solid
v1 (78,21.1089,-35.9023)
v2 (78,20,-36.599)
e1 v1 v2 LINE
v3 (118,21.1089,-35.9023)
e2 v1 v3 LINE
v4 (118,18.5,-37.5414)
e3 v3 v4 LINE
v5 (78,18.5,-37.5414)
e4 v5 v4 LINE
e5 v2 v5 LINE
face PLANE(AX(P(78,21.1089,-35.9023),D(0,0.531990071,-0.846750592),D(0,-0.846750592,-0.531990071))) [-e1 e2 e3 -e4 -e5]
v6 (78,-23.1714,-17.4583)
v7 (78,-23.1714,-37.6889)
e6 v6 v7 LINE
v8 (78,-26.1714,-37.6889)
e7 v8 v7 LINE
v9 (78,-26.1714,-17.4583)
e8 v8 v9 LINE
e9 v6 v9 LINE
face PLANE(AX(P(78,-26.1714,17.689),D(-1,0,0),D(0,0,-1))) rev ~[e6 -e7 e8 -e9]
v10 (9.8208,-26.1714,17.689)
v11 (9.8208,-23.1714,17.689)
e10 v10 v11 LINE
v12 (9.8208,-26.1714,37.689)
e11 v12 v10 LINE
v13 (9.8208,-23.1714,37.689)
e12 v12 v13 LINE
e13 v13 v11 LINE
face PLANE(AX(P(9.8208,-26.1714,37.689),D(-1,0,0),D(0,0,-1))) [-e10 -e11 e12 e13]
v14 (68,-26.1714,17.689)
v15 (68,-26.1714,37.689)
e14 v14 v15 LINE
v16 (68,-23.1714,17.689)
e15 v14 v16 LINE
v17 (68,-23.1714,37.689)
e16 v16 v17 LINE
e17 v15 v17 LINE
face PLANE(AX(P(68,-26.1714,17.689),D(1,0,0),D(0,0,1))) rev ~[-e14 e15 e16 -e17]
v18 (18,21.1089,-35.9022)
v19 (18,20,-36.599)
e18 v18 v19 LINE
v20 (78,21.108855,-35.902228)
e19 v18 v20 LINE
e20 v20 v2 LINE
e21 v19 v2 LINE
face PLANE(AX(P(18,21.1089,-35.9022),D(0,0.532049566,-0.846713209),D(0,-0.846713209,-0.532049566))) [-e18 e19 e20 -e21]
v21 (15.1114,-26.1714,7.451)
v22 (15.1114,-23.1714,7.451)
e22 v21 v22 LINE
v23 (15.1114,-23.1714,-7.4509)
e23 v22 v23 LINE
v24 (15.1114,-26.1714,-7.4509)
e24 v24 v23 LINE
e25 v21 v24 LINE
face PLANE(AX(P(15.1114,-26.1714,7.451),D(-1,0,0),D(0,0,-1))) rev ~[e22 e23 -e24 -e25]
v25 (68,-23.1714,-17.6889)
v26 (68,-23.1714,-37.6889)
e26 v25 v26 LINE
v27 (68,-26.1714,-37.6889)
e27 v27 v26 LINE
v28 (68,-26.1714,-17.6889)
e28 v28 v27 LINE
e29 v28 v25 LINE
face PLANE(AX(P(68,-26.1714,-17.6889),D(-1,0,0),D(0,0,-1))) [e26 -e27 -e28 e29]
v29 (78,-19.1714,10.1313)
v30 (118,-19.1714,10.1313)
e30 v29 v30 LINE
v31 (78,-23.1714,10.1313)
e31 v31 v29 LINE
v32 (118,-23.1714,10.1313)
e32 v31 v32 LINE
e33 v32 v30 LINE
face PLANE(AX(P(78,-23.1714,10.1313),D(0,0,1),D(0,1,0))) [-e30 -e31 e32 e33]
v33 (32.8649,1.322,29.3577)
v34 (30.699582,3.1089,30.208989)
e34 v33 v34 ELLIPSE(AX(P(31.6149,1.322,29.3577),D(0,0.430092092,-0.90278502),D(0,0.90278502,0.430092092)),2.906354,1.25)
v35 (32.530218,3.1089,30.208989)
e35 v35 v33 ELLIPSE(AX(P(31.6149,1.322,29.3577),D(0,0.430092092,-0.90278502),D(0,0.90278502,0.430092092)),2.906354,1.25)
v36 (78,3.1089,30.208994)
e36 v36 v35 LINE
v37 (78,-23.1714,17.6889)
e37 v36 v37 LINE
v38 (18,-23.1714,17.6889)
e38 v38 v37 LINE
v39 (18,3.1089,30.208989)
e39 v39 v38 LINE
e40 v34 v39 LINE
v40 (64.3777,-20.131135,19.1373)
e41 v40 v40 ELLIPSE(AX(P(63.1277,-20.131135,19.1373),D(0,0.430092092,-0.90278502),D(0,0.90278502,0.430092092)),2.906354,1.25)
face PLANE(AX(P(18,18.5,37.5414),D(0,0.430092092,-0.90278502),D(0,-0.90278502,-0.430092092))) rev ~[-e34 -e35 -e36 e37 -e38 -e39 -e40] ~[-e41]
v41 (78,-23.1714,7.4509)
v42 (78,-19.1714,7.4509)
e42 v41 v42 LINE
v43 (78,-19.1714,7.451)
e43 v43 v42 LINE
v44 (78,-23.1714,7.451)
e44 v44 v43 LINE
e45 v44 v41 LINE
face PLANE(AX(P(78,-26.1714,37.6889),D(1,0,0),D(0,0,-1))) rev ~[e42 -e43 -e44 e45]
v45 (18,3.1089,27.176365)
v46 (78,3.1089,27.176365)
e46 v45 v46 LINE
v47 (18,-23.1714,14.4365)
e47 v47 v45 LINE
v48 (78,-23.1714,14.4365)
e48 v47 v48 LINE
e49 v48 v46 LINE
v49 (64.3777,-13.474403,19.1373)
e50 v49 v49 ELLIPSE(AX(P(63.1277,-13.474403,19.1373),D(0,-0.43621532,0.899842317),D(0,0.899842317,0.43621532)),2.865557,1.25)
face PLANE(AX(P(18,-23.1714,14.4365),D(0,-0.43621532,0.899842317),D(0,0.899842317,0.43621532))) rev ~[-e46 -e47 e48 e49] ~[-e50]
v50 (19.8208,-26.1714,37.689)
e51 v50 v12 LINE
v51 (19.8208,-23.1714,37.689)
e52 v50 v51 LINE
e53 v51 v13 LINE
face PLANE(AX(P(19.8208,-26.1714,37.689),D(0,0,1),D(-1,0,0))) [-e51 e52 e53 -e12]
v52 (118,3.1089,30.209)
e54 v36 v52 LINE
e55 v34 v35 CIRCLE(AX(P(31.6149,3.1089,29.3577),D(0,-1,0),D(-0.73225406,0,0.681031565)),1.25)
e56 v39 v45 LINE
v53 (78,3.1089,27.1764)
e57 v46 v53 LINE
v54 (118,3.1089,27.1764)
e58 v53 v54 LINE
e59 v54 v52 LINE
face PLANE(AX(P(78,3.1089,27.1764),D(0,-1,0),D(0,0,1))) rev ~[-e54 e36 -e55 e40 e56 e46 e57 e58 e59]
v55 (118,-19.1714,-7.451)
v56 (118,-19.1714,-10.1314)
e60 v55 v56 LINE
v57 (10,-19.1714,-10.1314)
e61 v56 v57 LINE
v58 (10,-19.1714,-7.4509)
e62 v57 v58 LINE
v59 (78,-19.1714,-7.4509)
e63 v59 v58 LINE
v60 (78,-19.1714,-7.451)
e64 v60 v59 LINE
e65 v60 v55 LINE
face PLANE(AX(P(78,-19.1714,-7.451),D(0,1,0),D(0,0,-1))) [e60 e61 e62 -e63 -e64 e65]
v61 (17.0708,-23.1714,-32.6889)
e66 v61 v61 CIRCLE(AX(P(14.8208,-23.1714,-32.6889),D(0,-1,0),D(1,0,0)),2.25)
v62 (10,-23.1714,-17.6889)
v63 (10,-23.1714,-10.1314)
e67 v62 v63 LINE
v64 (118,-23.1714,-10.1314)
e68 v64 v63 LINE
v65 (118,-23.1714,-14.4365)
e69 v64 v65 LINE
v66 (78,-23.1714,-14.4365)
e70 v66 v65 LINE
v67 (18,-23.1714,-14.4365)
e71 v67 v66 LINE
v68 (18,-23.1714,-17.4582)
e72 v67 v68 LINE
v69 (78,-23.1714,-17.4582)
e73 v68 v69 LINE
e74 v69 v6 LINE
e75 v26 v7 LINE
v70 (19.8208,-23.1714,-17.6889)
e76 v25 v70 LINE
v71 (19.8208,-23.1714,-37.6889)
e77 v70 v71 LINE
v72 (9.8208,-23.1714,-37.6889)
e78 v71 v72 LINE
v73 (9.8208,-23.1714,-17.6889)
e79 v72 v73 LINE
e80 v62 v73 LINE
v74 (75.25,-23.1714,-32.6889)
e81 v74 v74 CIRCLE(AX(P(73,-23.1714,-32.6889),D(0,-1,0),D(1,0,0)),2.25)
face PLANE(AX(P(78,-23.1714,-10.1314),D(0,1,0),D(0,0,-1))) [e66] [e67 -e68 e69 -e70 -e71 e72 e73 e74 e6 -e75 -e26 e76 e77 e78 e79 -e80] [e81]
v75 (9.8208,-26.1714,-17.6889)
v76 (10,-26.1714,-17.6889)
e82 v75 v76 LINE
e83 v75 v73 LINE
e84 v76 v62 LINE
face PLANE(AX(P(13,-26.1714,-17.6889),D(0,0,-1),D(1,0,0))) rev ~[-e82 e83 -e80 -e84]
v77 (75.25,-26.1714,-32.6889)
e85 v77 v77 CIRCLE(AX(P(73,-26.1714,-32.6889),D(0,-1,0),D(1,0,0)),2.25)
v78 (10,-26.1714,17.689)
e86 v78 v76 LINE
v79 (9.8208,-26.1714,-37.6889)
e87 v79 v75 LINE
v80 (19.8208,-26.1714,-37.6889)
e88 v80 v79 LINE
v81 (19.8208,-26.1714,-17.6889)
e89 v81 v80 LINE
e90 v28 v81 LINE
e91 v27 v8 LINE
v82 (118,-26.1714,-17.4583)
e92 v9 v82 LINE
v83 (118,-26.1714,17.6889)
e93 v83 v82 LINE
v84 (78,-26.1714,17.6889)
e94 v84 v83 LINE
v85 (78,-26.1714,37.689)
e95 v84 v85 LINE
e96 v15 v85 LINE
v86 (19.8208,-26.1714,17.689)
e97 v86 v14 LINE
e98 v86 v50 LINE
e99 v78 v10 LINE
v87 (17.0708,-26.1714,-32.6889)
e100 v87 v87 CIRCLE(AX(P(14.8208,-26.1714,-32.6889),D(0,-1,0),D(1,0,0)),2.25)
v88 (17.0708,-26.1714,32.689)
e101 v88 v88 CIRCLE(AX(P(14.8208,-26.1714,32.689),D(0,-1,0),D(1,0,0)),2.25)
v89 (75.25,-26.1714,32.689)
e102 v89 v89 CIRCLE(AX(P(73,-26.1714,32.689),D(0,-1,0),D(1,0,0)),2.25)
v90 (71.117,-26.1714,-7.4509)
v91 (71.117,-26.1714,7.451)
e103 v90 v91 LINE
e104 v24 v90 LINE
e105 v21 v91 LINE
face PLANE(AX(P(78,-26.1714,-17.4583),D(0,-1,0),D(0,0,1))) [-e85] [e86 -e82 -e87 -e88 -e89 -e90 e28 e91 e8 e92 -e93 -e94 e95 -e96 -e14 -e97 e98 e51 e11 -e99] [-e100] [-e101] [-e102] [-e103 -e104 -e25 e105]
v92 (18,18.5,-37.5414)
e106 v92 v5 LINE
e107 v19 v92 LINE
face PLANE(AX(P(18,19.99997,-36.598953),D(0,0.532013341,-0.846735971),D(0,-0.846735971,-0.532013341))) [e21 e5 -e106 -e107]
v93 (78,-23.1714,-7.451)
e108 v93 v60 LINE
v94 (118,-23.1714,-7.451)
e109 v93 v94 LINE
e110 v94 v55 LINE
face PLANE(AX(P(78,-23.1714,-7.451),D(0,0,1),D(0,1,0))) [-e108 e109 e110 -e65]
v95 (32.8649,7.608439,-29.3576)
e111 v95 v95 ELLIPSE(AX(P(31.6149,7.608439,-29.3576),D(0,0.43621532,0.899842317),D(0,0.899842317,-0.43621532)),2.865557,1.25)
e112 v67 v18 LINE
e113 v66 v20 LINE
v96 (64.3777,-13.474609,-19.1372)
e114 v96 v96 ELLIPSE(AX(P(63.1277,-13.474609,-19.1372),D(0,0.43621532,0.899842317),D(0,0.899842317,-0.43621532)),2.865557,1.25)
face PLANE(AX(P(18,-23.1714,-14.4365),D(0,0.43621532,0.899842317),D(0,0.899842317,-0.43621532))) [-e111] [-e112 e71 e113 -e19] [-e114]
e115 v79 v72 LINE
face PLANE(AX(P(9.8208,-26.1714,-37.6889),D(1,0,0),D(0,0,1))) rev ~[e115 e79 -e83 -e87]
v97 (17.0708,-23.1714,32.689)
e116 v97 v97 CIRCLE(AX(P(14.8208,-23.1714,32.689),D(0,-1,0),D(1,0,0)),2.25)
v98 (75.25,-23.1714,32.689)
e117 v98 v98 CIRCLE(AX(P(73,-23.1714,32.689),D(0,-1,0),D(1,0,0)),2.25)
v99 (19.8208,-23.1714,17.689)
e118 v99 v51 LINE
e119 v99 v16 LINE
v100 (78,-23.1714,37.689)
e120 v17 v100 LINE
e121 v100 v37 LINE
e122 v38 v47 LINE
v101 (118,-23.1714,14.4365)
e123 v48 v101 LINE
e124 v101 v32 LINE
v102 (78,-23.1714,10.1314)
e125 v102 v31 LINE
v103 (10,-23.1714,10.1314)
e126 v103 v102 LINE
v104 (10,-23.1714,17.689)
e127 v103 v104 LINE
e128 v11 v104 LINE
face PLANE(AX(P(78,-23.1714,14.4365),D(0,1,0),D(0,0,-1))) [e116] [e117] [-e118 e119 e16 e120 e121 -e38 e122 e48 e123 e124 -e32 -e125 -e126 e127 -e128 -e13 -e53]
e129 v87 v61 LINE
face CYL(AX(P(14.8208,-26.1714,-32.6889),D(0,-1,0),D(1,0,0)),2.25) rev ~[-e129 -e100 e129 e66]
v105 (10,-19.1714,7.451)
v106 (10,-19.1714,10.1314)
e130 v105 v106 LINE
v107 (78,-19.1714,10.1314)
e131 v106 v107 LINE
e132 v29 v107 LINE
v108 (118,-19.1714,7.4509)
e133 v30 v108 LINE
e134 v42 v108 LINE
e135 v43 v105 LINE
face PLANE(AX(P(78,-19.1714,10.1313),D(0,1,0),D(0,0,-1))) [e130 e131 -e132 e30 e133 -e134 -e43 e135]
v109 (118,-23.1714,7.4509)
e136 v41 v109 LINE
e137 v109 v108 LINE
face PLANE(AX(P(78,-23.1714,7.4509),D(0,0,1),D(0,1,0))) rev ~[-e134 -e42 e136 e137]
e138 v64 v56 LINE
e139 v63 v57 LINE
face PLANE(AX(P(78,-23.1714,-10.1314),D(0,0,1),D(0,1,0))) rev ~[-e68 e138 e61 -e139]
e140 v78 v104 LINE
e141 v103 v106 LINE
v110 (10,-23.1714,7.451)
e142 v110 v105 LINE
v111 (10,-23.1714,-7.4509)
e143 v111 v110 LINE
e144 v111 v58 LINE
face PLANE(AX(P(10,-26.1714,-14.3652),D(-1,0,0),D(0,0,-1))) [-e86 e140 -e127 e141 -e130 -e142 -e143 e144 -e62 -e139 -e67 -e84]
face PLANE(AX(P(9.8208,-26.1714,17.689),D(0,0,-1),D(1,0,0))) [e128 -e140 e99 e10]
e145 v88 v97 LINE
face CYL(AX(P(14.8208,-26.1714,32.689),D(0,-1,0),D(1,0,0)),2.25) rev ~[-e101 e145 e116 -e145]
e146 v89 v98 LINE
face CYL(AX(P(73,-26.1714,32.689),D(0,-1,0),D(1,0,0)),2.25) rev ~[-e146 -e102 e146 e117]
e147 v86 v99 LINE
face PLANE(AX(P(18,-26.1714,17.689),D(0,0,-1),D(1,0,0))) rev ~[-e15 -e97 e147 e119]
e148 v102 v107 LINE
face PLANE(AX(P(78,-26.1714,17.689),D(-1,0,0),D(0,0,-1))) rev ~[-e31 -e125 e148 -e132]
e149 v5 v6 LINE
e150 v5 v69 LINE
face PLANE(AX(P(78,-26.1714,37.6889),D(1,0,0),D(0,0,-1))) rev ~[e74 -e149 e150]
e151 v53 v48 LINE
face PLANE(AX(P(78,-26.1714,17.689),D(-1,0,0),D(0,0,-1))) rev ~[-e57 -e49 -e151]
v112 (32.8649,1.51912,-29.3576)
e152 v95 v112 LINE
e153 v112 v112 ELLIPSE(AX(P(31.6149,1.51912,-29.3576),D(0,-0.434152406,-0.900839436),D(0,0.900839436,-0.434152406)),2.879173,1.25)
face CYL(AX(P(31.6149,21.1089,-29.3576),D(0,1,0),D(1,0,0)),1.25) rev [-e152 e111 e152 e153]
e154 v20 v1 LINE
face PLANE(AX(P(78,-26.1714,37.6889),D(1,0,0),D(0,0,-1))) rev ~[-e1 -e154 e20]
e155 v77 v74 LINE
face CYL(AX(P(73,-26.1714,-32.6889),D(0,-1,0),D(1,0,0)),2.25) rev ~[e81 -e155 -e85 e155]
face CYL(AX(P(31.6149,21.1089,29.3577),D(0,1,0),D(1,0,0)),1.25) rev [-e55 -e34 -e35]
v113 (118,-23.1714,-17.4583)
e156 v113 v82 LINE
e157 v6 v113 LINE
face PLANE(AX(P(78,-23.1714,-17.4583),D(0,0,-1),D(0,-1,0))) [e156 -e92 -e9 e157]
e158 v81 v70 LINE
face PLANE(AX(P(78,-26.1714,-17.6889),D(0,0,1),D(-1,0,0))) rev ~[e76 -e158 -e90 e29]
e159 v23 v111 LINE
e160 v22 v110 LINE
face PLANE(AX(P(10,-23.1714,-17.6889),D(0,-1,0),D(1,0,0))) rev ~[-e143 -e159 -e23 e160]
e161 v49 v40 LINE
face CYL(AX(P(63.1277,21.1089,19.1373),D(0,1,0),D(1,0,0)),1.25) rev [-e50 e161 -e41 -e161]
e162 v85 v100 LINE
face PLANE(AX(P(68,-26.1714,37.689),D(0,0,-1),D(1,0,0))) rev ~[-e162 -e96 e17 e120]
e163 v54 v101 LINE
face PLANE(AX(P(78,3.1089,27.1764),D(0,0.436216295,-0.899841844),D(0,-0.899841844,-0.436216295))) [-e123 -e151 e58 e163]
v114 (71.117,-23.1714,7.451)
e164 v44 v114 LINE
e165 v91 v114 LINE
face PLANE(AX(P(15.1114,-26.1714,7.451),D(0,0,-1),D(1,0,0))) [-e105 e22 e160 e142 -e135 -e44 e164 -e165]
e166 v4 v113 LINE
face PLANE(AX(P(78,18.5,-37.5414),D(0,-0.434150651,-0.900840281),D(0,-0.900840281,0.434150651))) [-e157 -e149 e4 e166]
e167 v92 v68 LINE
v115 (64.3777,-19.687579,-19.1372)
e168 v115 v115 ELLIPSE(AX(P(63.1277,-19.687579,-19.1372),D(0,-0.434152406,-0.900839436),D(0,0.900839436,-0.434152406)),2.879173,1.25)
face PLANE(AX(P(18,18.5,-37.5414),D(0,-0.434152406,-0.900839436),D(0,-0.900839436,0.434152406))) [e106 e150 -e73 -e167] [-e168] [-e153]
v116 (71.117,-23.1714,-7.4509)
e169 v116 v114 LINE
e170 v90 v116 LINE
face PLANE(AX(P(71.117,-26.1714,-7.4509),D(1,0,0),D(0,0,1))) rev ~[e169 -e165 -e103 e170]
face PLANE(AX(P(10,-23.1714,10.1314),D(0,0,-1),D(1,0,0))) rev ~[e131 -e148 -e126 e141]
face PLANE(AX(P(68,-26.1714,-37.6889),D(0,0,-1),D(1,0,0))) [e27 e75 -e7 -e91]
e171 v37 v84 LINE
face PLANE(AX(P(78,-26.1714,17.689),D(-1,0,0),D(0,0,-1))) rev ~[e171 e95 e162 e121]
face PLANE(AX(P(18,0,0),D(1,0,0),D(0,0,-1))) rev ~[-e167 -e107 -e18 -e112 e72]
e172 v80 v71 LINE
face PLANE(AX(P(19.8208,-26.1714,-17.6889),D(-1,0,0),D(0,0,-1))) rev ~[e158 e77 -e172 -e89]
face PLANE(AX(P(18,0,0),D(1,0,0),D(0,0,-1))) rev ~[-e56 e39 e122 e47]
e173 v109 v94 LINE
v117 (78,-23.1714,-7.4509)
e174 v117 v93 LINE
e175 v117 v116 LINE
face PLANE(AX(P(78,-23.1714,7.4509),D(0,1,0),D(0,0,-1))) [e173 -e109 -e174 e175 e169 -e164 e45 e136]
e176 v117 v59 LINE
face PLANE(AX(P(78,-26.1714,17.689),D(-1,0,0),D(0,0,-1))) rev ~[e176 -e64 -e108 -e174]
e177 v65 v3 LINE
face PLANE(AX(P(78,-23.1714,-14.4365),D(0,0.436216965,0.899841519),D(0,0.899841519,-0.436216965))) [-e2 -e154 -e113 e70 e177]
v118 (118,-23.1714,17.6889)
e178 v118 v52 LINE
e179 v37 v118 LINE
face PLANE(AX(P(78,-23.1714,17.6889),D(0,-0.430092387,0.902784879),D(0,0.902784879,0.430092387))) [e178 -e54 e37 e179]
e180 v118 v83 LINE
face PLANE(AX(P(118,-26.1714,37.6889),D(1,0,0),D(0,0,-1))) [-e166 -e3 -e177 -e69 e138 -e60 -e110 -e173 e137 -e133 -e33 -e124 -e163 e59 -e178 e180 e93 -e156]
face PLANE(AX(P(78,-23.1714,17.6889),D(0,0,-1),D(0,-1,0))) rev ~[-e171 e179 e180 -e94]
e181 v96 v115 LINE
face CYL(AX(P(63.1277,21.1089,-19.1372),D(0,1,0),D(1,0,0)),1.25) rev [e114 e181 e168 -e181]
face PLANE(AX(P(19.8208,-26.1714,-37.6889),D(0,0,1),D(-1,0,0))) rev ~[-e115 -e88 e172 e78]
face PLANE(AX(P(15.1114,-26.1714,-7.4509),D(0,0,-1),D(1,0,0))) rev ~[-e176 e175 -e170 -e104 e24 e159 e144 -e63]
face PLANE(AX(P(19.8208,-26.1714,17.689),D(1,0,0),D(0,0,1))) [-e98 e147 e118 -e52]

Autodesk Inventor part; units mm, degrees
ref_plane "YZ Plane" through (0, 0, 0) normal (1, 0, 0) x (0, 1, 0)
ref_plane "XZ Plane" through (0, 0, 0) normal (0, 1, 0) x (-1, 0, 0)
ref_plane "XY Plane" through (0, 0, 0) normal (0, 0, 1) x (1, 0, 0)
ref_plane "Plan de construction16" through (10, -26.1714, -17.6889) normal (0, -1, 0) x (1, 0, 0)
sketch "Esquisse9" plane through (10, -26.1714, -17.6889) normal (0, -1, 0) x (1, 0, 0)
  line L0 (0, 35.3779) -> (8, 35.3779) projected
  line L1 (68, 1.8848) -> (68, 33.493) projected
  line L2 (0, 35.3779) -> (68, 35.3779)
  line L3 (68, 35.3779) -> (68, 32.0585)
  line L4 (0, 32.0585) -> (0, 35.3779)
  line L5 (0, 0) -> (8, 0) projected
  line L6 (0, 37.6889) -> (0, -2.3111) projected
  line L7 (68, 0) -> (0, 0)
  line L8 (0, 0) -> (0, 3.3237)
  line L9 (68, 3.3237) -> (68, 0)
  line L10 (68, 35.3779) -> (0, 35.3779)
  line L11 (0, 35.3779) -> (0, 0)
  line L12 (0, 0) -> (68, 0)
  line L13 (68, 0) -> (68, 35.3779)
  point P0 (-10, 17.6889)
  point P1 (67.75, 35.3779)
  point P2 (67.75, 0)
extrude "Extrusion11" add sketch "Esquisse9" against normal blind 3
ref_plane "Plan de construction18" through (78, -26.1714, -17.6889) normal (0, -1, 0) x (1, 0, 0)
sketch "Esquisse13" plane through (78, -26.1714, -17.6889) normal (0, -1, 0) x (1, 0, 0)
  line L0 (-65, 35.3779) -> (-60, 35.3779) projected
  line L1 (0, 35.3779) -> (-10, 35.3779)
  line L2 (-10, 35.3779) -> (-10, 55.3779)
  line L3 (-10, 55.3779) -> (0, 55.3779)
  line L4 (0, 55.3779) -> (0, 35.3779)
  line L5 (0, 35.3779) -> (0, 0) construction
  line L6 (0, 17.6889) -> (-68.1792, 17.6889) construction
  line L7 (-68.1792, 35.3779) -> (-58.1792, 35.3779)
  line L8 (-58.1792, 35.3779) -> (-58.1792, 55.3779)
  line L9 (-58.1792, 55.3779) -> (-68.1792, 55.3779)
  line L10 (-68.1792, 55.3779) -> (-68.1792, 35.3779)
  line L11 (-65, 0) -> (0, 0)
  line L12 (0, 0) -> (-10, 0)
  line L13 (-10, 0) -> (-10, -20)
  line L14 (-10, -20) -> (0, -20)
  line L15 (0, -20) -> (0, 0)
  line L16 (-68.1792, 0) -> (-58.1792, 0)
  line L17 (-58.1792, 0) -> (-58.1792, -20)
  line L18 (-58.1792, -20) -> (-68.1792, -20)
  line L19 (-68.1792, -20) -> (-68.1792, 0)
  line L20 (-5, 34.0863) -> (-5, 43.2092) construction
  circle A0 centre (-5, 50.3779) radius 2.25
  circle A1 centre (-63.1792, 50.3779) radius 2.25
  circle A2 centre (-63.1792, -15) radius 2.25
  line L21 (-5, -1.4113) -> (-5, -11.1612) projected
  circle A3 centre (-5, -15) radius 2.25
  point P0 (-78, 17.6889)
  point P1 (0, 1.8848)
  point P2 (0, 33.493)
  point P3 (-0.25, 35.3779)
  dimension "d45" = 10
  dimension "d46" = 20
  dimension "d47" = 10
  dimension "d48" = 20
  dimension "d49" = 4.5
  dimension "d50" = 4.5
  dimension "d51" = 4.5
  dimension "d52" = 4.5
  dimension "d57" = 0
  dimension "d58" = 5
  dimension "d59" = 5
  dimension "d60" = 5
  dimension "d61" = 5
extrude "Extrusion12" add sketch "Esquisse13" against normal blind 3
ref_plane "Plan de construction19" through (18, 0, 0) normal (1, 0, 0) x (0, 0, -1)
sketch "Esquisse14" plane through (18, 0, 0) normal (1, 0, 0) x (0, 0, -1)
  line L0 (-19.134, -23.1714) -> (-15.8041, -23.1714)
  line L1 (-19.134, -23.1714) -> (-15.8041, -23.1714) projected
  line L2 (-15.8041, -23.1714) -> (-36.599, 20) projected
  line L3 (-38.4838, 17) -> (-19.134, -23.1714) projected
  line L4 (-19.134, -23.1714) -> (-15.8041, -23.1714) projected
  line L5 (-19.134, -23.1714) -> (-15.8041, -23.1714) projected
  line L6 (-36.599, 20) -> (-38.4838, 17) projected
  line L7 (-15.8041, -23.1714) -> (-36.599, 20) projected
  line L8 (-36.599, 20) -> (-38.4838, 17) projected
  line L9 (-38.4838, 17) -> (-19.134, -23.1714) projected
  line L10 (-15.8041, -23.1714) -> (-36.599, 20) projected
  line L11 (-36.599, 20) -> (-38.4838, 17) projected
  line L12 (-38.4838, 17) -> (-19.134, -23.1714) projected
  line L13 (17.6889, -23.1714) -> (-17.6889, -23.1714) projected
  line L14 (-14.4365, -23.1714) -> (-35.9022, 21.1089)
  line L15 (-35.9022, 21.1089) -> (-36.599, 20)
  line L16 (0, 22.9524) -> (0, -23.1714) construction
  line L17 (15.8041, -23.1714) -> (36.599, 20)
  line L18 (-17.6889, -23.1714) -> (17.6889, -23.1714)
  line L19 (14.4365, -23.1714) -> (35.9022, 21.1089)
  line L20 (35.9022, 21.1089) -> (36.599, 20)
  line L21 (14.4365, -23.1714) -> (15.8041, -23.1714)
  line L22 (35.9022, 21.1089) -> (36.599, 20)
  line L23 (15.8041, -23.1714) -> (36.599, 20)
  line L24 (35.9022, 21.1089) -> (14.4365, -23.1714)
  line L25 (-36.599, 20) -> (-37.5414, 18.5)
  line L26 (-17.6889, -23.1714) -> (-17.6889, -26.1714) projected
  line L27 (-37.5414, 18.5) -> (-17.6889, -23.1714)
  line L28 (-17.6889, -23.1714) -> (-14.4365, -23.1714)
  line L29 (35.9022, 21.1089) -> (37.5414, 18.5)
  line L30 (37.5414, 18.5) -> (17.4582, -23.1714)
  line L31 (14.4365, -23.1714) -> (17.4582, -23.1714)
  point P0 (0, 0)
ref_plane "Plan de construction10" through (78, -23.1714, 15.8041) normal (0, 1, 0) x (1, 0, 0)
sketch "Esquisse15" plane through (78, -23.1714, 15.8041) normal (0, 1, 0) x (1, 0, 0)
  line L0 (0, 53.493) -> (0, -21.8848) projected
  line L1 (-68, 5.6727) -> (0, 5.6727)
  line L2 (0, 5.6727) -> (0, 8.3531)
  line L3 (0, 8.3531) -> (-68, 8.3531)
  line L4 (-68, 8.3531) -> (-68, 5.6727)
  line L5 (-68, 33.493) -> (-68, -1.8848) projected
  line L6 (-68, -1.8848) -> (-68, 33.493) construction
  line L7 (-68, 15.8041) -> (0, 15.8041) construction
  line L8 (0, 53.493) -> (0, -21.8848)
  line L9 (-68, 25.9355) -> (0, 25.9355)
  line L10 (0, 25.9355) -> (0, 23.255)
  line L11 (0, 23.255) -> (-68, 23.255)
  line L12 (-68, 23.255) -> (-68, 25.9355)
  line L13 (-68, -1.8848) -> (-68, 33.493)
  line L14 (-68, 33.493) -> (-68, -1.8848) construction
  point P0 (-78, 15.8041)
extrude "Extrusion14" add sketch "Esquisse15" along normal blind 4 contours L0 L11 L5 L9 | L0 L1 L4 L3
ref_plane "Plan de construction11" through (68, -26.1714, -37.6889) normal (0, -1, 0) x (1, 0, 0)
sketch "Esquisse16" plane through (68, -26.1714, -37.6889) normal (0, -1, 0) x (1, 0, 0)
  line L0 (-58, 45.1399) -> (10, 45.1399) projected
  line L1 (-58, 30.238) -> (10, 30.238) projected
  line L2 (3.117, 45.1399) -> (-52.8886, 45.1399)
  line L3 (-52.8886, 45.1399) -> (-52.8886, 30.238)
  line L4 (-52.8886, 30.238) -> (3.117, 30.238)
  line L5 (3.117, 30.238) -> (3.117, 45.1399)
  point P0 (-68, 37.6889)
extrude "Extrusion15" cut sketch "Esquisse16" against normal blind 4
extrude "Extrusion16" add sketch "Esquisse14" along normal up to surface (60 mm away) contours L19 L20 L17 L13 | L27 L6 L2 L0 | L2 L15 L14 L13 | L17 L29 L30 L13
ref_plane "Plan de construction20" through (18, 21.1089, -35.9022) normal (0, -1, 0) x (1, 0, 0)
sketch "Esquisse17" plane through (18, 21.1089, -35.9022) normal (0, -1, 0) x (1, 0, 0)
  circle A0 centre (18.615, 35.9022) radius 22.5 construction
  circle A1 centre (45.1277, 16.765) radius 1.25
  line L0 (50, 53.5912) -> (50, 73.5912) projected
  circle A2 centre (13.6149, 6.5446) radius 1.25
  line L1 (60, 43.3532) -> (60, 28.4513) projected
  line L2 (-11.4468, 35.9022) -> (31.8074, 35.9022) construction
  circle A3 centre (45.1277, 55.0395) radius 1.25
  line L3 (13.6149, 53.5912) -> (50, -1.7867)
  circle A4 centre (13.6149, 65.2599) radius 1.25
  point P0 (-18, 35.9022)
  dimension "d68" = 45
  dimension "d69" = 2.5
  dimension "d70" = 2.5
  dimension "d71" = 41.385
extrude "Extrusion17" cut sketch "Esquisse17" along normal up to surface (44.2803 mm away)
sketch "Esquisse18" plane through (18, 21.1089, -35.9022) normal (0, -1, 0) x (1, 0, 0)
  line L0 (-5.0895, 79.4289) -> (61.3071, 79.4289)
  line L1 (61.3071, 79.4289) -> (61.3071, 14.8125)
  line L2 (61.3071, 14.8125) -> (-5.0895, 14.8125)
  line L3 (-5.0895, 14.8125) -> (-5.0895, 79.4289)
  point P0 (-18, 35.9022)
extrude "Extrusion18" cut sketch "Esquisse18" along normal blind 18
sketch "Esquisse19" plane through (78, -26.1714, 37.6889) normal (1, 0, 0) x (0, 0, -1)
  line L0 (10.5125, 29.2803) -> (7.4799, 29.2803) projected
  line L1 (20, 3) -> (7.4799, 29.2803) projected
  line L2 (0, 3) -> (20, 3) projected
  line L3 (0, 0) -> (0, 3) projected
  line L4 (75.3779, 0) -> (0, 0) projected
  line L5 (75.3779, 0) -> (75.3779, 3) projected
  line L6 (55.1472, 3) -> (75.3779, 3) projected
  line L7 (75.2303, 44.6714) -> (55.1472, 3) projected
  line L8 (73.5912, 47.2803) -> (75.2303, 44.6714) projected
  line L9 (52.1254, 3) -> (73.5912, 47.2803) projected
  line L10 (47.8203, 3) -> (52.1254, 3) projected
  line L11 (47.8203, 3) -> (47.8203, 7) projected
  line L12 (45.1399, 7) -> (47.8203, 7) projected
  line L13 (45.1399, 3) -> (45.1399, 7) projected
  line L14 (30.238, 3) -> (45.1399, 3) projected
  line L15 (30.238, 3) -> (30.238, 7) projected
  line L16 (27.5576, 7) -> (30.238, 7) projected
  line L17 (27.5576, 3) -> (27.5576, 7) projected
  line L18 (23.2524, 3) -> (27.5576, 3) projected
  line L19 (10.5125, 29.2803) -> (23.2524, 3) projected
  line L20 (0, 3) -> (20, 3) projected
  line L21 (20, 3) -> (20, 0) projected
  line L22 (20, 0) -> (55.3779, 0) projected
  line L23 (55.1472, 3) -> (75.2303, 44.6714) projected
  line L24 (47.8203, 0) -> (50.6711, 0)
  line L25 (20, 3) -> (20, 0)
  line L26 (20, 0) -> (55.1472, 0)
  line L27 (55.1472, 3) -> (55.1472, 0)
  line L28 (55.1472, 3) -> (75.2303, 44.6714)
  point P0 (37.6889, 26.1714)
extrude "Extrusion19" add sketch "Esquisse19" along normal blind 40 contours L19 L18 L17 L16 L15 L14 L13 L12 L11 L10 L9 L8 L7 L27 L4 L21 L1 L0
properties part number "new_cuiller"
